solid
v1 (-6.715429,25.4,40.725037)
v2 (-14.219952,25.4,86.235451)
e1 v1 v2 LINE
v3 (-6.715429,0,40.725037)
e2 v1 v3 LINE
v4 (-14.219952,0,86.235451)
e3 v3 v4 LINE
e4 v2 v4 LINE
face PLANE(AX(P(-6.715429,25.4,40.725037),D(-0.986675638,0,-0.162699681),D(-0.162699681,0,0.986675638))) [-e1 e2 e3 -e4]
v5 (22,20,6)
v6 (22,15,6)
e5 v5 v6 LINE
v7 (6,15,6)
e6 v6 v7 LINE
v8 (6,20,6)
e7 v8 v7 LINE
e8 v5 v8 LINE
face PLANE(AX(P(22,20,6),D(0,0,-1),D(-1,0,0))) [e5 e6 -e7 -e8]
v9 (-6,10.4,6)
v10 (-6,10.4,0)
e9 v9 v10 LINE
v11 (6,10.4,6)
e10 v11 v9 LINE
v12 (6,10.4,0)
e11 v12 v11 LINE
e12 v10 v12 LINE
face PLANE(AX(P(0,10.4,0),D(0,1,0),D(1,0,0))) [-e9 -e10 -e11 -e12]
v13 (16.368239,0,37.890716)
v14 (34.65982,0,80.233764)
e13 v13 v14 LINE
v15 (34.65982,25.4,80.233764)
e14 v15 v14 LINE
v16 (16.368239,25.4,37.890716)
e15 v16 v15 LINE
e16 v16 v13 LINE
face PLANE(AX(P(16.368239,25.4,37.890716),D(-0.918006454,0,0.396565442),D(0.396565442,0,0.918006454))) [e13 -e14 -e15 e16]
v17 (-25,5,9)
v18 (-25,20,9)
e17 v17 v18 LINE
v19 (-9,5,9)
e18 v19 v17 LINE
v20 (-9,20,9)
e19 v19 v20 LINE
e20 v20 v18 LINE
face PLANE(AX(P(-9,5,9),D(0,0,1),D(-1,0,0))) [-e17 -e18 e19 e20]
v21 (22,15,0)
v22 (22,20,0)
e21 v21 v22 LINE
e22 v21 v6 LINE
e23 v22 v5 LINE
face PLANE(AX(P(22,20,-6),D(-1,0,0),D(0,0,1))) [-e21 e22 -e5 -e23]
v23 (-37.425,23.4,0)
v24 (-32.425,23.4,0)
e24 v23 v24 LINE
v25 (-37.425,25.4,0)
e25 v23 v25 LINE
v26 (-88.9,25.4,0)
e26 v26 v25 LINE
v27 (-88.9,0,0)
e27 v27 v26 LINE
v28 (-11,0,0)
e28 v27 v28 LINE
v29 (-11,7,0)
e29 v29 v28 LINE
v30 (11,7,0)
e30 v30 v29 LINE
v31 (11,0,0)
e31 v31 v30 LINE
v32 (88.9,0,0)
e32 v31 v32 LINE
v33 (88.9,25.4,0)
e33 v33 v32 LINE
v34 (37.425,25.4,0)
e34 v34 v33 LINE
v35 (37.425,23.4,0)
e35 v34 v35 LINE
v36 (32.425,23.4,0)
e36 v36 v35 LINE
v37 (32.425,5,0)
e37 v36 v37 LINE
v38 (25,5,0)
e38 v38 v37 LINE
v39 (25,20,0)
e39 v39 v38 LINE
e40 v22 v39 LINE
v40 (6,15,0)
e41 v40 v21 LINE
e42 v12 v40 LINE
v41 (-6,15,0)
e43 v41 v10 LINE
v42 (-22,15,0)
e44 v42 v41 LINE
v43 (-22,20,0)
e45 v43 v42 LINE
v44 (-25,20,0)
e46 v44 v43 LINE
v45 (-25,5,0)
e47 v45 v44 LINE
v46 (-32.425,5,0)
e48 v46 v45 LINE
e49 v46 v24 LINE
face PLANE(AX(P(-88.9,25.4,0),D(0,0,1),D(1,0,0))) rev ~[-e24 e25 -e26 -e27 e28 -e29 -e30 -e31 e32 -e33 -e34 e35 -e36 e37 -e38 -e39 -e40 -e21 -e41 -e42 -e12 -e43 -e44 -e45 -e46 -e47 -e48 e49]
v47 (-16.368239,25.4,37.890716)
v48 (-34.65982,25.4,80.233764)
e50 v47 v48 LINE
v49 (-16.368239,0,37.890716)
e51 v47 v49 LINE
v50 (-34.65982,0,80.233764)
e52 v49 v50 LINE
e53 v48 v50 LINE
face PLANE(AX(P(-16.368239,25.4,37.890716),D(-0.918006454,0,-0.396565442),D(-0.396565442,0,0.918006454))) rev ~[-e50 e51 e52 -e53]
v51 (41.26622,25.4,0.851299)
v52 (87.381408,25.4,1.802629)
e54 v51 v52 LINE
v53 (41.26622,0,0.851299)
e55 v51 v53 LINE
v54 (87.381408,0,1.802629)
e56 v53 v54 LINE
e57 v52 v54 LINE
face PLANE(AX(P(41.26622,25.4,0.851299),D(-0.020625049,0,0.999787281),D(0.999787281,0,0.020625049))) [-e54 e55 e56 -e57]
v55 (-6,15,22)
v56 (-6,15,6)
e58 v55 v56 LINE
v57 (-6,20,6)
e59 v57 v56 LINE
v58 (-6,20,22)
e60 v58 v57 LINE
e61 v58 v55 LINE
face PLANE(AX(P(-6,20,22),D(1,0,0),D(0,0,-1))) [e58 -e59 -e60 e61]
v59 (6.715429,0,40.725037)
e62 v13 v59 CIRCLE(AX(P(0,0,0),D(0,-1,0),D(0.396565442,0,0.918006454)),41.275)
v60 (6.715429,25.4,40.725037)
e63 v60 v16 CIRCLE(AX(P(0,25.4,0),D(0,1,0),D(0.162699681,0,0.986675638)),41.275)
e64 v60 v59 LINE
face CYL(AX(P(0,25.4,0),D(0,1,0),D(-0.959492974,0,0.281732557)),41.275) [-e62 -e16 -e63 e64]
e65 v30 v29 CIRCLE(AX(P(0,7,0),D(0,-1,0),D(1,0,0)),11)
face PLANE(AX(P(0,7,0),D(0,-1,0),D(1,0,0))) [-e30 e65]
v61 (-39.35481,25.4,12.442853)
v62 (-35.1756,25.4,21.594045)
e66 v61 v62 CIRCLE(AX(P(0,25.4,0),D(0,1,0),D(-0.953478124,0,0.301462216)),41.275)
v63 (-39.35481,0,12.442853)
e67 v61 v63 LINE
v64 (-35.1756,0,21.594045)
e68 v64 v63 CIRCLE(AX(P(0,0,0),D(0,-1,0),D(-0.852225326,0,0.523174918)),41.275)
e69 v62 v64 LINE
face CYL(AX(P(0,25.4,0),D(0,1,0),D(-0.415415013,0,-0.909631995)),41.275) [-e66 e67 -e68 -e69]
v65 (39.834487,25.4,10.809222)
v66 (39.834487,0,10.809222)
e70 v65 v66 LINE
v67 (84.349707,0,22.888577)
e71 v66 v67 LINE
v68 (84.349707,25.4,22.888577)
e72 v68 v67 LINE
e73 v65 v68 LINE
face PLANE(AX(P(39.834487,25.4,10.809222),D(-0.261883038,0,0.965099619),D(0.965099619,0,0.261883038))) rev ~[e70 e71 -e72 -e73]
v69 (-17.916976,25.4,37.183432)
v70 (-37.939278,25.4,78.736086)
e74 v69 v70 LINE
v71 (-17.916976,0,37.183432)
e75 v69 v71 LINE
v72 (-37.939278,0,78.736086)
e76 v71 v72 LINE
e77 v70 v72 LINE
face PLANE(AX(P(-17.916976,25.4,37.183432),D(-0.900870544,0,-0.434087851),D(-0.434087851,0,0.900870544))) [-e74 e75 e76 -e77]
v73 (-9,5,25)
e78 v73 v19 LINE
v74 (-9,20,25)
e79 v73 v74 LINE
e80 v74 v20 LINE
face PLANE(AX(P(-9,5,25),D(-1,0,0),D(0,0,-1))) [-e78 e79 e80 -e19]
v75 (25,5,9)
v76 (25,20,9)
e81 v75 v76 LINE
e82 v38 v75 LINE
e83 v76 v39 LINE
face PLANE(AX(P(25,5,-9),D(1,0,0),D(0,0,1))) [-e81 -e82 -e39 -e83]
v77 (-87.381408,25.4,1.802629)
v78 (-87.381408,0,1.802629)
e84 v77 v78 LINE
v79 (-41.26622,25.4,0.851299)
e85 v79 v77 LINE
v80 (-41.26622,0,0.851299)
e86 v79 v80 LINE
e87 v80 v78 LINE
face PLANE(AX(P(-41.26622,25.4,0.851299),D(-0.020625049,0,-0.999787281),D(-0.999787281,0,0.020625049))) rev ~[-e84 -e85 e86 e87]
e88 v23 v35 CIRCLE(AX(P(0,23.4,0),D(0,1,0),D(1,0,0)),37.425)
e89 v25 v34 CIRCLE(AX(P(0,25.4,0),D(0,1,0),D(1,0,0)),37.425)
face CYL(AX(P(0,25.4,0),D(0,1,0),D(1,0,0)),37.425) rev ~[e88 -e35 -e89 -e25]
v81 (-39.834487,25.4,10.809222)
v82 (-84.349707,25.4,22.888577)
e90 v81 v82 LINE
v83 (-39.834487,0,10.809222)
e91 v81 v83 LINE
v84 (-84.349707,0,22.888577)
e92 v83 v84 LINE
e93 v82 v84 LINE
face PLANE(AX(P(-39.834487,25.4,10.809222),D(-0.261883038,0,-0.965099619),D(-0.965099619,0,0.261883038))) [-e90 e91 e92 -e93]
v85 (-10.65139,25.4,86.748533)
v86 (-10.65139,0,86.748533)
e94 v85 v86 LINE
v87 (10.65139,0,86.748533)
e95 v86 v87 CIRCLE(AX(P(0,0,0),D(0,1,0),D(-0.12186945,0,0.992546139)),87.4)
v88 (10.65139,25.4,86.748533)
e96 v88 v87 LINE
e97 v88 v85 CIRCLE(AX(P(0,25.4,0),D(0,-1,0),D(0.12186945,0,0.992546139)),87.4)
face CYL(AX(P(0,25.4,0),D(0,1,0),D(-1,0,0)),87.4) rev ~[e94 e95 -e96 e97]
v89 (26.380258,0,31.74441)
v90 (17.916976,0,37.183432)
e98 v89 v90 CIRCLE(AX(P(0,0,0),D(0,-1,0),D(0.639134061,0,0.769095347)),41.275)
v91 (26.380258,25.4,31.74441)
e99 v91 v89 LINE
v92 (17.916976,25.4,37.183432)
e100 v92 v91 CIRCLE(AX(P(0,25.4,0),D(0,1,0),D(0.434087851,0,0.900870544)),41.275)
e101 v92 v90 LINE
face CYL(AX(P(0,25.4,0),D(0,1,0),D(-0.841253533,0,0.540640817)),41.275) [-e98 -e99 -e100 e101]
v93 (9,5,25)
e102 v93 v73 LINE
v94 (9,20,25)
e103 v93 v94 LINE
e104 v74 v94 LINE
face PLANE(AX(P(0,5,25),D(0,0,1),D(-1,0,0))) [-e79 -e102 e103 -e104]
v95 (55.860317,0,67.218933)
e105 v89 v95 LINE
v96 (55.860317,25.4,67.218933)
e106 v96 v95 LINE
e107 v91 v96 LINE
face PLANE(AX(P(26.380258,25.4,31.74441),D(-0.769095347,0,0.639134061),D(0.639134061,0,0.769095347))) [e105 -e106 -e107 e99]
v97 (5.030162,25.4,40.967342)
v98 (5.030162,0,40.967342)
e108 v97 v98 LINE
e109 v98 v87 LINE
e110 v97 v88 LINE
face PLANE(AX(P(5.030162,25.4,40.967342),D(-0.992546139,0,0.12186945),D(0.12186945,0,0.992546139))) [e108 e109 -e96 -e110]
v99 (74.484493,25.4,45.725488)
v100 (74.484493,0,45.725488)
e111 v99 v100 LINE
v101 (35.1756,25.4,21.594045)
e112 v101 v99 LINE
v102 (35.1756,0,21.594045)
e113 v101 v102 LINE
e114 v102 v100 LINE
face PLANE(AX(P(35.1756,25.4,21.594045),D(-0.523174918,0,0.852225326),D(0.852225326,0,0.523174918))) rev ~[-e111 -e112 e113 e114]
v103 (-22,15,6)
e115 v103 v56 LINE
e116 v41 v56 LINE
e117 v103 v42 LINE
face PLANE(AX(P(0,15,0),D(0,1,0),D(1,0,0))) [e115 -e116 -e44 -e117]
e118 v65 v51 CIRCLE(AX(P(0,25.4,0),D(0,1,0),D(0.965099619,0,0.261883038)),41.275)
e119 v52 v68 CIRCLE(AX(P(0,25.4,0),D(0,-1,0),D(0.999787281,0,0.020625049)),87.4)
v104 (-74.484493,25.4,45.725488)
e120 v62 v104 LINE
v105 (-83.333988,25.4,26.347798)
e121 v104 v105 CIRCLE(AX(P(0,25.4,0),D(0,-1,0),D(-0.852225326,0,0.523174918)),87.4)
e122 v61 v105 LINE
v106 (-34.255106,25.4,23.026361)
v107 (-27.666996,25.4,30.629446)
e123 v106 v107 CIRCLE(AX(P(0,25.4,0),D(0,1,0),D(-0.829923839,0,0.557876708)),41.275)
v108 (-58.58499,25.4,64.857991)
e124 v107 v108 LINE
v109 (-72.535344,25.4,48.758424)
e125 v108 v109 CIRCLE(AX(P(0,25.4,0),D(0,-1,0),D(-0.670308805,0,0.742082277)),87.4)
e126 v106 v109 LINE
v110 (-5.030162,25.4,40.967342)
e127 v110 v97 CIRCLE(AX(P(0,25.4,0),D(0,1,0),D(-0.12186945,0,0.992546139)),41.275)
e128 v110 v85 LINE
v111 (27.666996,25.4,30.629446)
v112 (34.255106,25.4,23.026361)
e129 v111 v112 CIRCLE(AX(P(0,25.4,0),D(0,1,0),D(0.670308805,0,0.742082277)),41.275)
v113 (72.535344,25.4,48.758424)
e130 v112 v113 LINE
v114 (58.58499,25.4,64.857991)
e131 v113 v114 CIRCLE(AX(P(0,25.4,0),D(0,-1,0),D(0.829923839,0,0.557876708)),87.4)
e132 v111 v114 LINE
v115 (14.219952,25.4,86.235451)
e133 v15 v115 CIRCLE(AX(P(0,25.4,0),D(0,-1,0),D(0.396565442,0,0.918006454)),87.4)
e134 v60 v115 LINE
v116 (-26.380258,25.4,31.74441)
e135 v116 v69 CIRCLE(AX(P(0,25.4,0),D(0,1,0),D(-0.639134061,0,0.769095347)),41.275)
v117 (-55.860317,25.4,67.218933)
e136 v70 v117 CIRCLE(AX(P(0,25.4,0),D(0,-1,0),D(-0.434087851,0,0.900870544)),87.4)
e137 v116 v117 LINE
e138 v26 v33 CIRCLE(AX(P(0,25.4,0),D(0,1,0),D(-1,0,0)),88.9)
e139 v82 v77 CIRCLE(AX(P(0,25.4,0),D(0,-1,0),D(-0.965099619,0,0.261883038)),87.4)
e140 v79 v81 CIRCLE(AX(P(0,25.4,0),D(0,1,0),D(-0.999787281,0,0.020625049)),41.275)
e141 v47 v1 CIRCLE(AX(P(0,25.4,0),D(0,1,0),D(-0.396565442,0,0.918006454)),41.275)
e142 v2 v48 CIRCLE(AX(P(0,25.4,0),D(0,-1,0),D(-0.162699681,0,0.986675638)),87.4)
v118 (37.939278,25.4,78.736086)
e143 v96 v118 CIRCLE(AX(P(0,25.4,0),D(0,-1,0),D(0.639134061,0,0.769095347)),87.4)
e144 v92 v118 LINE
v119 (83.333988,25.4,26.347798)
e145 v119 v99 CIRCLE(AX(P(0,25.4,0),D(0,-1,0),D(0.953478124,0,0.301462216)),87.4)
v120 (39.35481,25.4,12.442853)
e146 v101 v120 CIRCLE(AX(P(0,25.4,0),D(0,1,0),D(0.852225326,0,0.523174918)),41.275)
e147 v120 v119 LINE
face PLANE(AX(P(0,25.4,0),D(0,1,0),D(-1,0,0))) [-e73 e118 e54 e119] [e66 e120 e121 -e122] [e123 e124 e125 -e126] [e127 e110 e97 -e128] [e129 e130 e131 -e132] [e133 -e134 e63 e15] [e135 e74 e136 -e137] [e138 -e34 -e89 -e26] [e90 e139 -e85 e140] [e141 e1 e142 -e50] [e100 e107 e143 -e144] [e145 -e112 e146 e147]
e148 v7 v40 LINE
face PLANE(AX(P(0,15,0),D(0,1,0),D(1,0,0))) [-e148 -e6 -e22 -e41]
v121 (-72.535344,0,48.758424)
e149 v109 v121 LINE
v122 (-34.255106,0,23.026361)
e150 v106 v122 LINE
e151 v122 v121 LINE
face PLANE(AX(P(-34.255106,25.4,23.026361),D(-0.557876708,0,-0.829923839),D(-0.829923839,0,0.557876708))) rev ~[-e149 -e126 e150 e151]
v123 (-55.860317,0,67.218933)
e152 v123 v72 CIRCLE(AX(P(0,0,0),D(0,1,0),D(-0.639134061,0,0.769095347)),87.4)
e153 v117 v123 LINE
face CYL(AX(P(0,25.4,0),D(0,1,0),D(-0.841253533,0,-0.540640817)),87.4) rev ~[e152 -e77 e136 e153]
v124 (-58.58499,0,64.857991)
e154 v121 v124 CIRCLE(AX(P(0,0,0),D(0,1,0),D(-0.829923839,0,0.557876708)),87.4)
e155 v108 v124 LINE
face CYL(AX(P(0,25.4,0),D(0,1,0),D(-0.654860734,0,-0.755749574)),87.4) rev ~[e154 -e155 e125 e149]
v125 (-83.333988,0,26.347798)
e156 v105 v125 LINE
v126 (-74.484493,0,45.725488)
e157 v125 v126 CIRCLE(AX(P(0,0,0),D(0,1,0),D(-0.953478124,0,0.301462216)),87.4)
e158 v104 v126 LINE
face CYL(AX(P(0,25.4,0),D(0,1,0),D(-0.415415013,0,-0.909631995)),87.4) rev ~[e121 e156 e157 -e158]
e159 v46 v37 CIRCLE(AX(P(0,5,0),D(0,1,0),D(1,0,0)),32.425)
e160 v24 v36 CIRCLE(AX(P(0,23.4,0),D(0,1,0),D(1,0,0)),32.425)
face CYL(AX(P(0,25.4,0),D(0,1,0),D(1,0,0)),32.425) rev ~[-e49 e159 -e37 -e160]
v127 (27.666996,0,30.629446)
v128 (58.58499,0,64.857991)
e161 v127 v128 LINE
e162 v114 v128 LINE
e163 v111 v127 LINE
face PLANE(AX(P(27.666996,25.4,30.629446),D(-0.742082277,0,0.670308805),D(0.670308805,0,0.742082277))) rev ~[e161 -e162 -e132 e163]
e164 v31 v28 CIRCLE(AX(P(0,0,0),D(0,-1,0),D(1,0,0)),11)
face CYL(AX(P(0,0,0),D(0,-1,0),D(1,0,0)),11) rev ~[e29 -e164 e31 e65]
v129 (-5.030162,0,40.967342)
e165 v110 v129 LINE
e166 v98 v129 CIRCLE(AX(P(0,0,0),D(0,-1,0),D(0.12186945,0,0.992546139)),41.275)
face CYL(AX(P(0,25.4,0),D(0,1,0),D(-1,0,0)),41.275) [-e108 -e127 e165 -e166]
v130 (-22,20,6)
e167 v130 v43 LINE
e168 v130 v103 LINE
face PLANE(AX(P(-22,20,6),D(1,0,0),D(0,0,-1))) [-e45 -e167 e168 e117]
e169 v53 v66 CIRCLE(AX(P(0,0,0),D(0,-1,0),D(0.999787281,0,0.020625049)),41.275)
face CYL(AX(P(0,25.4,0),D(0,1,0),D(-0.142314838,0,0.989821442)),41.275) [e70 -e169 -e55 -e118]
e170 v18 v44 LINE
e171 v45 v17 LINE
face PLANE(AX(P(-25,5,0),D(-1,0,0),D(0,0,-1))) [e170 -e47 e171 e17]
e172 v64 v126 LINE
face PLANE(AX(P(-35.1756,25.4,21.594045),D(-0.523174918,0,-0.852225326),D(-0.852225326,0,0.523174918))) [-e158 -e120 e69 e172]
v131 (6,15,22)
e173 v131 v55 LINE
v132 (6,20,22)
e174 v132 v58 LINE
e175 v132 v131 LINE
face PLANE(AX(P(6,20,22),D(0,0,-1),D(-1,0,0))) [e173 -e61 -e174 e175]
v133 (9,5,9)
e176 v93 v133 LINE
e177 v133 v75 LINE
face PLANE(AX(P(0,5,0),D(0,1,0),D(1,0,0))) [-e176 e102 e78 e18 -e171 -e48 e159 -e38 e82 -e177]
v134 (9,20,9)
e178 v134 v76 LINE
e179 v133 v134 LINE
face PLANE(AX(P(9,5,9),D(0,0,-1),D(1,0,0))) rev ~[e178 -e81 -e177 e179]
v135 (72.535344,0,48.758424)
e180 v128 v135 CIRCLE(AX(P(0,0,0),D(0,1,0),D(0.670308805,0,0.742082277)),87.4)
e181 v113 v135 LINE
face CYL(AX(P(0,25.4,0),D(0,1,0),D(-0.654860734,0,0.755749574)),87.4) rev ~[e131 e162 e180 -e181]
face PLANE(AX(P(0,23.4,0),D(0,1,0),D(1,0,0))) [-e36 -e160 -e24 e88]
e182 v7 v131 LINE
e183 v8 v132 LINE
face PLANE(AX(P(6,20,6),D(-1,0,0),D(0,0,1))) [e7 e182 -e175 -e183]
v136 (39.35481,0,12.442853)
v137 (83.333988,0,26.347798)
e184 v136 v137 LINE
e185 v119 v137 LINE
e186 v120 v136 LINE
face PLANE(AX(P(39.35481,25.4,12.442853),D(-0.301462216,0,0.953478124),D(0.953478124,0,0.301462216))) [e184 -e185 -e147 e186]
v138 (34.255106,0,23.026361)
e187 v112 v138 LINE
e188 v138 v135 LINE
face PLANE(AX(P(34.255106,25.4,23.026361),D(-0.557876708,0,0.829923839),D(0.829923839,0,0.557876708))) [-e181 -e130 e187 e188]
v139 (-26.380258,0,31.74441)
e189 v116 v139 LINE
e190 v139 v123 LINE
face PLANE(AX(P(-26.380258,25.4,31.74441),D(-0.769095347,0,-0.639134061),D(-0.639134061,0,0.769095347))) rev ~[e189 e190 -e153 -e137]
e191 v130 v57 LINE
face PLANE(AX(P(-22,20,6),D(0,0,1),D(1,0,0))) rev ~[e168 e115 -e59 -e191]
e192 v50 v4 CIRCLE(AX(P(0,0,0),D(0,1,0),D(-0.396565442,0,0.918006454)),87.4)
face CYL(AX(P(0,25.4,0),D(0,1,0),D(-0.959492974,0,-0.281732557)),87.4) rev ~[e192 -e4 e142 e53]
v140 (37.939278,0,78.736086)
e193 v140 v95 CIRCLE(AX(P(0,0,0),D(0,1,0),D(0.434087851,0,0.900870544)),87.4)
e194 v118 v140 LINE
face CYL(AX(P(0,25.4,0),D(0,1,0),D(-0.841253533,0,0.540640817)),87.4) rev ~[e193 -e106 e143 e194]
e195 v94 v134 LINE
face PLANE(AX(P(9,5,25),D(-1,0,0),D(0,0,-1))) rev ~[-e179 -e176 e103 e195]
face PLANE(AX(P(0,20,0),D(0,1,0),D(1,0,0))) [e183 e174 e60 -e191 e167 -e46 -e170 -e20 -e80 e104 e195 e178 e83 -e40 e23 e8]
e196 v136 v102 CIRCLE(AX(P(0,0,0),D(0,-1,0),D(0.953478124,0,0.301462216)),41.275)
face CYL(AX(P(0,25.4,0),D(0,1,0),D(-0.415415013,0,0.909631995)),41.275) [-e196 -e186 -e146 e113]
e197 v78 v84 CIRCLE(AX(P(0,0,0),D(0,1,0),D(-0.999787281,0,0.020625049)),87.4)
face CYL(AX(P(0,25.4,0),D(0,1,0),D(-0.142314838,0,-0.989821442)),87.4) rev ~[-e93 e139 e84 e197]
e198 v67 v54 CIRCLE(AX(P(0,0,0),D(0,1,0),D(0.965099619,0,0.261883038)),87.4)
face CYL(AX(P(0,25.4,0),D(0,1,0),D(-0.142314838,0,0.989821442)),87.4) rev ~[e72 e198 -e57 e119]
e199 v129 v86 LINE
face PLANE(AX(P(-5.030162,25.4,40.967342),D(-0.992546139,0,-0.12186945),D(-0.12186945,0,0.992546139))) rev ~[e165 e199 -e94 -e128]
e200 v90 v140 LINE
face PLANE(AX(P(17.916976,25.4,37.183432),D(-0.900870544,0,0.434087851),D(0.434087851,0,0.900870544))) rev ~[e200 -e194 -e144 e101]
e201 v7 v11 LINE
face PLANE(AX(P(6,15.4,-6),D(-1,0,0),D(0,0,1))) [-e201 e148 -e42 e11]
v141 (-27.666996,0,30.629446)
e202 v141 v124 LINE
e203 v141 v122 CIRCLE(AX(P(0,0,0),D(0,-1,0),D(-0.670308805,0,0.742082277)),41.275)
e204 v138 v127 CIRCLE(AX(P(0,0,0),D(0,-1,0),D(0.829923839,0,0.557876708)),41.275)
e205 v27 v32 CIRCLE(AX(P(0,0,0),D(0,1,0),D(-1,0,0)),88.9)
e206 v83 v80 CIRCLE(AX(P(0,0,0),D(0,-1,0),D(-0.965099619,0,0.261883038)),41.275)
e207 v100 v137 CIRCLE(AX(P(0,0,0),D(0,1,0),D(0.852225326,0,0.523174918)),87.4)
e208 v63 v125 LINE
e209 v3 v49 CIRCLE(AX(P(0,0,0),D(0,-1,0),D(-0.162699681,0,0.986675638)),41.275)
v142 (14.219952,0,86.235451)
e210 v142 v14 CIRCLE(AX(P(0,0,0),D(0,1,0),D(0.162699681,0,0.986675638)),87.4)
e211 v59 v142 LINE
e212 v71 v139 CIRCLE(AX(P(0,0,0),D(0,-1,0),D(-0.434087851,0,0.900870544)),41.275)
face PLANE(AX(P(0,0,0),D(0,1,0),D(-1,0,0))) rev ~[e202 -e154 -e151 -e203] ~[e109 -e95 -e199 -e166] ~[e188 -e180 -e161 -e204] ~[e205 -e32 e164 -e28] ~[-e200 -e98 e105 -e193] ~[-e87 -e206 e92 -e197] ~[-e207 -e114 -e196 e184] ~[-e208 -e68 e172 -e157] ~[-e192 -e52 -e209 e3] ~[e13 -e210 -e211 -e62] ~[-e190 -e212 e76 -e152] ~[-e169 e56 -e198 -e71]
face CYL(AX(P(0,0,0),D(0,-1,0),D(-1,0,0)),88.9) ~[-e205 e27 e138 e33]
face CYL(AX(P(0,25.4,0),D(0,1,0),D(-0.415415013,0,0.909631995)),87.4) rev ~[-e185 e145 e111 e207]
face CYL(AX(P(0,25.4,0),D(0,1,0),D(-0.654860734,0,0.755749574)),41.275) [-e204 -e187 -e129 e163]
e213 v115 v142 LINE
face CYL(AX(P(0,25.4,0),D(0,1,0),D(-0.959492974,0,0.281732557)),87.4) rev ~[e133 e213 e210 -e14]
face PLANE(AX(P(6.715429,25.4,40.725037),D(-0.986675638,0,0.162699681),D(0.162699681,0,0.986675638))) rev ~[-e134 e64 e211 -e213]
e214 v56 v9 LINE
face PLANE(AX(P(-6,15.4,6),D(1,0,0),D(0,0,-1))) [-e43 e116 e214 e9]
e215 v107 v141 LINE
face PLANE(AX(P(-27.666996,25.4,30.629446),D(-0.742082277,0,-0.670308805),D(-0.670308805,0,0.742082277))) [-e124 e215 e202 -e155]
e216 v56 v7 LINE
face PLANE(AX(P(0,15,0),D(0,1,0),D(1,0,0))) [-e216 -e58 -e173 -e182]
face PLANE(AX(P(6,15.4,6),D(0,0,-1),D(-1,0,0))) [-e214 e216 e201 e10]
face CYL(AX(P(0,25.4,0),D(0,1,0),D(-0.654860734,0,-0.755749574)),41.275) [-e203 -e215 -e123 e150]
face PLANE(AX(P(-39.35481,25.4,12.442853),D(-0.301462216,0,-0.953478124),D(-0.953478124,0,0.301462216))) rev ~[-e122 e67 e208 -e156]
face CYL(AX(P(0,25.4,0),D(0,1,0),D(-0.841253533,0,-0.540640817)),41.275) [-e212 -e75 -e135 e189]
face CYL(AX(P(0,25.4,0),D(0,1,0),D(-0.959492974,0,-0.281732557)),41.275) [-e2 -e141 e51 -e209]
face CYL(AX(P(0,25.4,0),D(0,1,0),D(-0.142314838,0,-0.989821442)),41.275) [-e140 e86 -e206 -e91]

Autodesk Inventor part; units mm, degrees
ref_plane "YZ Plane" through (0, 0, 0) normal (1, 0, 0) x (0, 1, 0)
sketch "Sketch1" plane through (0, 0, 0) normal (0, 1, 0) x (-1, 0, 0)
  circle A0 centre (0, 0) radius 88.9
  dimension "d0" = 177.8
extrude "Extrusion1" add sketch "Sketch1" along normal blind 25.4
sketch "Sketch2" plane through (0, 25.4, 0) normal (0, 1, 0) x (1, 0, 0)
  circle A0 centre (0, 0) radius 87.4
  line L0 (0, 0) -> (-10.8342, 88.2374)
  circle A1 centre (0, 0) radius 88.9 projected
  line L1 (0, 0) -> (10.8342, 88.2374)
  circle A2 centre (0, 0) radius 34.925
  line L2 (0, 0) -> (0, 88.9)
  circle A3 centre (0, 0) radius 41.275
  point P0 (-4.2563, 34.6647)
  point P1 (4.2563, 34.6647)
  point P2 (10.6514, 86.7485)
  point P3 (-10.6514, 86.7485)
  point P4 (-5.0302, 40.9673)
  point P5 (5.0302, 40.9673)
  dimension "d3" = 174.8
  dimension "d4" = 69.85
  dimension "d10" = 14
  dimension "d11" = 7
  dimension "d45" = 82.55
extrude "Extrusion2" cut sketch "Sketch2" against normal blind 25.4 contours L1 A3 L2 A0 | A0 L2 A3 L0
pattern_circular "Circular Pattern1" count 22 over 360 about axis through (0, 0, 0) along (0, 1, 0) of "Extrusion2"
sketch "Sketch4" plane through (0, 25.4, 0) normal (0, 1, 0) x (1, 0, 0)
  circle A0 centre (0, 0) radius 32.425
  dimension "d16" = 64.85
extrude "Extrusion3" cut sketch "Sketch4" against normal blind 20.4
ref_plane "Work Plane1" through (0, 5, 0) normal (0, 1, 0) x (1, 0, 0)
sketch "Sketch5" plane through (0, 5, 0) normal (0, 1, 0) x (1, 0, 0)
  line L0 (0, 0) -> (0, 25)
  line L1 (0, 0) -> (-25, 0)
  line L2 (0, 0) -> (0, -25)
  line L3 (0, 0) -> (25, 0)
  line L4 (25, 0) -> (25, -9)
  line L5 (0, -25) -> (9, -25)
  line L6 (9, -25) -> (9, -9)
  line L7 (9, -9) -> (25, -9)
  line L8 (0, -25) -> (-9, -25)
  line L9 (-9, -25) -> (-9, -9)
  line L10 (-9, -9) -> (-25, -9)
  line L11 (-25, -9) -> (-25, 0)
  line L12 (-25, 0) -> (-25, 9)
  line L13 (-25, 9) -> (-9, 9)
  line L14 (-9, 9) -> (-9, 25)
  line L15 (-9, 25) -> (0, 25)
  line L16 (9, 25) -> (0, 25)
  line L17 (9, 25) -> (9, 9)
  line L18 (9, 9) -> (25, 9)
  line L19 (25, 9) -> (25, 0)
  dimension "d65" = 25
  dimension "d66" = 25
  dimension "d67" = 25
  dimension "d68" = 25
  dimension "d69" = 9
  dimension "d70" = 9
  dimension "d71" = 9
  dimension "d72" = 9
  dimension "d85" = 9
  dimension "d86" = 9
  dimension "d87" = 9
  dimension "d88" = 9
extrude "Extrusion4" add sketch "Sketch5" along normal blind 15
ref_plane "Work Plane3" through (0, 15.4, 0) normal (0, 1, 0) x (1, 0, 0)
sketch "Sketch21" plane through (0, 25.4, 0) normal (0, 1, 0) x (1, 0, 0)
  circle A0 centre (0, 0) radius 32.425
  circle A1 centre (0, 0) radius 37.425
  dimension "d51" = 64.85
  dimension "d52" = 74.85
extrude "Extrusion8" cut sketch "Sketch21" against normal blind 2
sketch "Sketch23" plane through (0, 0, 0) normal (0, -1, 0) x (1, 0, 0)
  circle A0 centre (0, 0) radius 11
  dimension "d60" = 22
extrude "Extrusion10" cut sketch "Sketch23" against normal blind 7
sketch "Sketch7" plane through (0, 15.4, 0) normal (0, 1, 0) x (1, 0, 0)
  line L0 (-6, 6) -> (6, 6)
  line L1 (6, 6) -> (6, -6)
  line L2 (6, -6) -> (-6, -6)
  line L3 (-6, -6) -> (-6, 6)
  line L4 (-15, 15) -> (15, 15) projected
  line L5 (15, 15) -> (15, -15) projected
  line L6 (-15, -15) -> (-15, 15) projected
  line L7 (15, -15) -> (-15, -15) projected
  point P0 (0, 0)
  dimension "d32" = 9
  dimension "d33" = 9
  dimension "d34" = 9
  dimension "d35" = 9
extrude "Extrusion6" cut sketch "Sketch7" against normal blind 5 contours L0 L1 L2 L3
sketch "Sketch25" plane through (0, 20, 0) normal (0, 1, 0) x (1, 0, 0)
  line L0 (-22, 6) -> (-6, 6)
  line L1 (-6, 6) -> (-6, 22)
  line L2 (-6, 22) -> (6, 22)
  line L3 (6, 22) -> (6, 6)
  line L4 (6, 6) -> (22, 6)
  line L5 (22, 6) -> (22, -6)
  line L6 (22, -6) -> (6, -6)
  line L7 (6, -6) -> (6, -22)
  line L8 (6, -22) -> (-6, -22)
  line L9 (-6, -22) -> (-6, -6)
  line L10 (-22, -6) -> (-6, -6)
  line L11 (-22, -6) -> (-22, 6)
  line L12 (-9, 25) -> (-9, 9) projected
  line L13 (9, 25) -> (-9, 25) projected
  line L14 (9, 9) -> (9, 25) projected
  line L15 (9, 9) -> (25, 9) projected
  line L16 (9, -9) -> (25, -9) projected
  line L17 (25, -9) -> (25, 9) projected
  line L18 (9, -25) -> (9, -9) projected
  line L19 (-9, -25) -> (9, -25) projected
  line L20 (-9, -9) -> (-9, -25) projected
  line L21 (-25, -9) -> (-9, -9) projected
  line L22 (-25, 9) -> (-25, -9) projected
  line L23 (-9, 9) -> (-25, 9) projected
  point P0 (0, 0)
  dimension "d73" = 3
  dimension "d74" = 3
  dimension "d75" = 3
  dimension "d76" = 3
  dimension "d77" = 3
  dimension "d78" = 3
  dimension "d79" = 3
  dimension "d80" = 3
  dimension "d81" = 3
  dimension "d82" = 3
  dimension "d83" = 3
  dimension "d84" = 3
extrude "Extrusion11" cut sketch "Sketch25" against normal blind 5 contours L0 L1 L2 L3 L4 L5 L6 L7 L8 L9 L10 L11
sketch "Sketch27" plane through (0, 25.4, 0) normal (0, 1, 0) x (1, 0, 0)
  circle A0 centre (0, 0) radius 88.9 projected
  line L0 (-88.9, 0) -> (88.9, 0)
ref_plane "Work Plane4" through (-88.9, 25.4, 0) normal (0, 0, 1) x (1, 0, 0)
sketch "Sketch28" plane through (-88.9, 25.4, 0) normal (0, 0, 1) x (1, 0, 0)
  line L0 (-17.5989, 18.4525) -> (205.1439, 18.4525)
  line L1 (205.1439, 18.4525) -> (205.1439, -42.1057)
  line L2 (205.1439, -42.1057) -> (-17.5989, -42.1057)
  line L3 (-17.5989, -42.1057) -> (-17.5989, 18.4525)
  point P0 (88.9, -25.4)
extrude "Extrusion12" cut sketch "Sketch28" against normal through all
equation "\"d11\" = 0.5 * d10"
equation "\"d33\" = d32"
equation "\"d34\" = d32"
equation "\"d35\" = d32"
equation "\"d75\" = d73"
equation "\"d76\" = d73"
equation "\"d77\" = d73"
equation "\"d78\" = d73"
equation "\"d80\" = d73"
equation "\"d83\" = d73"
properties part number "Capsule_Design_Final"
